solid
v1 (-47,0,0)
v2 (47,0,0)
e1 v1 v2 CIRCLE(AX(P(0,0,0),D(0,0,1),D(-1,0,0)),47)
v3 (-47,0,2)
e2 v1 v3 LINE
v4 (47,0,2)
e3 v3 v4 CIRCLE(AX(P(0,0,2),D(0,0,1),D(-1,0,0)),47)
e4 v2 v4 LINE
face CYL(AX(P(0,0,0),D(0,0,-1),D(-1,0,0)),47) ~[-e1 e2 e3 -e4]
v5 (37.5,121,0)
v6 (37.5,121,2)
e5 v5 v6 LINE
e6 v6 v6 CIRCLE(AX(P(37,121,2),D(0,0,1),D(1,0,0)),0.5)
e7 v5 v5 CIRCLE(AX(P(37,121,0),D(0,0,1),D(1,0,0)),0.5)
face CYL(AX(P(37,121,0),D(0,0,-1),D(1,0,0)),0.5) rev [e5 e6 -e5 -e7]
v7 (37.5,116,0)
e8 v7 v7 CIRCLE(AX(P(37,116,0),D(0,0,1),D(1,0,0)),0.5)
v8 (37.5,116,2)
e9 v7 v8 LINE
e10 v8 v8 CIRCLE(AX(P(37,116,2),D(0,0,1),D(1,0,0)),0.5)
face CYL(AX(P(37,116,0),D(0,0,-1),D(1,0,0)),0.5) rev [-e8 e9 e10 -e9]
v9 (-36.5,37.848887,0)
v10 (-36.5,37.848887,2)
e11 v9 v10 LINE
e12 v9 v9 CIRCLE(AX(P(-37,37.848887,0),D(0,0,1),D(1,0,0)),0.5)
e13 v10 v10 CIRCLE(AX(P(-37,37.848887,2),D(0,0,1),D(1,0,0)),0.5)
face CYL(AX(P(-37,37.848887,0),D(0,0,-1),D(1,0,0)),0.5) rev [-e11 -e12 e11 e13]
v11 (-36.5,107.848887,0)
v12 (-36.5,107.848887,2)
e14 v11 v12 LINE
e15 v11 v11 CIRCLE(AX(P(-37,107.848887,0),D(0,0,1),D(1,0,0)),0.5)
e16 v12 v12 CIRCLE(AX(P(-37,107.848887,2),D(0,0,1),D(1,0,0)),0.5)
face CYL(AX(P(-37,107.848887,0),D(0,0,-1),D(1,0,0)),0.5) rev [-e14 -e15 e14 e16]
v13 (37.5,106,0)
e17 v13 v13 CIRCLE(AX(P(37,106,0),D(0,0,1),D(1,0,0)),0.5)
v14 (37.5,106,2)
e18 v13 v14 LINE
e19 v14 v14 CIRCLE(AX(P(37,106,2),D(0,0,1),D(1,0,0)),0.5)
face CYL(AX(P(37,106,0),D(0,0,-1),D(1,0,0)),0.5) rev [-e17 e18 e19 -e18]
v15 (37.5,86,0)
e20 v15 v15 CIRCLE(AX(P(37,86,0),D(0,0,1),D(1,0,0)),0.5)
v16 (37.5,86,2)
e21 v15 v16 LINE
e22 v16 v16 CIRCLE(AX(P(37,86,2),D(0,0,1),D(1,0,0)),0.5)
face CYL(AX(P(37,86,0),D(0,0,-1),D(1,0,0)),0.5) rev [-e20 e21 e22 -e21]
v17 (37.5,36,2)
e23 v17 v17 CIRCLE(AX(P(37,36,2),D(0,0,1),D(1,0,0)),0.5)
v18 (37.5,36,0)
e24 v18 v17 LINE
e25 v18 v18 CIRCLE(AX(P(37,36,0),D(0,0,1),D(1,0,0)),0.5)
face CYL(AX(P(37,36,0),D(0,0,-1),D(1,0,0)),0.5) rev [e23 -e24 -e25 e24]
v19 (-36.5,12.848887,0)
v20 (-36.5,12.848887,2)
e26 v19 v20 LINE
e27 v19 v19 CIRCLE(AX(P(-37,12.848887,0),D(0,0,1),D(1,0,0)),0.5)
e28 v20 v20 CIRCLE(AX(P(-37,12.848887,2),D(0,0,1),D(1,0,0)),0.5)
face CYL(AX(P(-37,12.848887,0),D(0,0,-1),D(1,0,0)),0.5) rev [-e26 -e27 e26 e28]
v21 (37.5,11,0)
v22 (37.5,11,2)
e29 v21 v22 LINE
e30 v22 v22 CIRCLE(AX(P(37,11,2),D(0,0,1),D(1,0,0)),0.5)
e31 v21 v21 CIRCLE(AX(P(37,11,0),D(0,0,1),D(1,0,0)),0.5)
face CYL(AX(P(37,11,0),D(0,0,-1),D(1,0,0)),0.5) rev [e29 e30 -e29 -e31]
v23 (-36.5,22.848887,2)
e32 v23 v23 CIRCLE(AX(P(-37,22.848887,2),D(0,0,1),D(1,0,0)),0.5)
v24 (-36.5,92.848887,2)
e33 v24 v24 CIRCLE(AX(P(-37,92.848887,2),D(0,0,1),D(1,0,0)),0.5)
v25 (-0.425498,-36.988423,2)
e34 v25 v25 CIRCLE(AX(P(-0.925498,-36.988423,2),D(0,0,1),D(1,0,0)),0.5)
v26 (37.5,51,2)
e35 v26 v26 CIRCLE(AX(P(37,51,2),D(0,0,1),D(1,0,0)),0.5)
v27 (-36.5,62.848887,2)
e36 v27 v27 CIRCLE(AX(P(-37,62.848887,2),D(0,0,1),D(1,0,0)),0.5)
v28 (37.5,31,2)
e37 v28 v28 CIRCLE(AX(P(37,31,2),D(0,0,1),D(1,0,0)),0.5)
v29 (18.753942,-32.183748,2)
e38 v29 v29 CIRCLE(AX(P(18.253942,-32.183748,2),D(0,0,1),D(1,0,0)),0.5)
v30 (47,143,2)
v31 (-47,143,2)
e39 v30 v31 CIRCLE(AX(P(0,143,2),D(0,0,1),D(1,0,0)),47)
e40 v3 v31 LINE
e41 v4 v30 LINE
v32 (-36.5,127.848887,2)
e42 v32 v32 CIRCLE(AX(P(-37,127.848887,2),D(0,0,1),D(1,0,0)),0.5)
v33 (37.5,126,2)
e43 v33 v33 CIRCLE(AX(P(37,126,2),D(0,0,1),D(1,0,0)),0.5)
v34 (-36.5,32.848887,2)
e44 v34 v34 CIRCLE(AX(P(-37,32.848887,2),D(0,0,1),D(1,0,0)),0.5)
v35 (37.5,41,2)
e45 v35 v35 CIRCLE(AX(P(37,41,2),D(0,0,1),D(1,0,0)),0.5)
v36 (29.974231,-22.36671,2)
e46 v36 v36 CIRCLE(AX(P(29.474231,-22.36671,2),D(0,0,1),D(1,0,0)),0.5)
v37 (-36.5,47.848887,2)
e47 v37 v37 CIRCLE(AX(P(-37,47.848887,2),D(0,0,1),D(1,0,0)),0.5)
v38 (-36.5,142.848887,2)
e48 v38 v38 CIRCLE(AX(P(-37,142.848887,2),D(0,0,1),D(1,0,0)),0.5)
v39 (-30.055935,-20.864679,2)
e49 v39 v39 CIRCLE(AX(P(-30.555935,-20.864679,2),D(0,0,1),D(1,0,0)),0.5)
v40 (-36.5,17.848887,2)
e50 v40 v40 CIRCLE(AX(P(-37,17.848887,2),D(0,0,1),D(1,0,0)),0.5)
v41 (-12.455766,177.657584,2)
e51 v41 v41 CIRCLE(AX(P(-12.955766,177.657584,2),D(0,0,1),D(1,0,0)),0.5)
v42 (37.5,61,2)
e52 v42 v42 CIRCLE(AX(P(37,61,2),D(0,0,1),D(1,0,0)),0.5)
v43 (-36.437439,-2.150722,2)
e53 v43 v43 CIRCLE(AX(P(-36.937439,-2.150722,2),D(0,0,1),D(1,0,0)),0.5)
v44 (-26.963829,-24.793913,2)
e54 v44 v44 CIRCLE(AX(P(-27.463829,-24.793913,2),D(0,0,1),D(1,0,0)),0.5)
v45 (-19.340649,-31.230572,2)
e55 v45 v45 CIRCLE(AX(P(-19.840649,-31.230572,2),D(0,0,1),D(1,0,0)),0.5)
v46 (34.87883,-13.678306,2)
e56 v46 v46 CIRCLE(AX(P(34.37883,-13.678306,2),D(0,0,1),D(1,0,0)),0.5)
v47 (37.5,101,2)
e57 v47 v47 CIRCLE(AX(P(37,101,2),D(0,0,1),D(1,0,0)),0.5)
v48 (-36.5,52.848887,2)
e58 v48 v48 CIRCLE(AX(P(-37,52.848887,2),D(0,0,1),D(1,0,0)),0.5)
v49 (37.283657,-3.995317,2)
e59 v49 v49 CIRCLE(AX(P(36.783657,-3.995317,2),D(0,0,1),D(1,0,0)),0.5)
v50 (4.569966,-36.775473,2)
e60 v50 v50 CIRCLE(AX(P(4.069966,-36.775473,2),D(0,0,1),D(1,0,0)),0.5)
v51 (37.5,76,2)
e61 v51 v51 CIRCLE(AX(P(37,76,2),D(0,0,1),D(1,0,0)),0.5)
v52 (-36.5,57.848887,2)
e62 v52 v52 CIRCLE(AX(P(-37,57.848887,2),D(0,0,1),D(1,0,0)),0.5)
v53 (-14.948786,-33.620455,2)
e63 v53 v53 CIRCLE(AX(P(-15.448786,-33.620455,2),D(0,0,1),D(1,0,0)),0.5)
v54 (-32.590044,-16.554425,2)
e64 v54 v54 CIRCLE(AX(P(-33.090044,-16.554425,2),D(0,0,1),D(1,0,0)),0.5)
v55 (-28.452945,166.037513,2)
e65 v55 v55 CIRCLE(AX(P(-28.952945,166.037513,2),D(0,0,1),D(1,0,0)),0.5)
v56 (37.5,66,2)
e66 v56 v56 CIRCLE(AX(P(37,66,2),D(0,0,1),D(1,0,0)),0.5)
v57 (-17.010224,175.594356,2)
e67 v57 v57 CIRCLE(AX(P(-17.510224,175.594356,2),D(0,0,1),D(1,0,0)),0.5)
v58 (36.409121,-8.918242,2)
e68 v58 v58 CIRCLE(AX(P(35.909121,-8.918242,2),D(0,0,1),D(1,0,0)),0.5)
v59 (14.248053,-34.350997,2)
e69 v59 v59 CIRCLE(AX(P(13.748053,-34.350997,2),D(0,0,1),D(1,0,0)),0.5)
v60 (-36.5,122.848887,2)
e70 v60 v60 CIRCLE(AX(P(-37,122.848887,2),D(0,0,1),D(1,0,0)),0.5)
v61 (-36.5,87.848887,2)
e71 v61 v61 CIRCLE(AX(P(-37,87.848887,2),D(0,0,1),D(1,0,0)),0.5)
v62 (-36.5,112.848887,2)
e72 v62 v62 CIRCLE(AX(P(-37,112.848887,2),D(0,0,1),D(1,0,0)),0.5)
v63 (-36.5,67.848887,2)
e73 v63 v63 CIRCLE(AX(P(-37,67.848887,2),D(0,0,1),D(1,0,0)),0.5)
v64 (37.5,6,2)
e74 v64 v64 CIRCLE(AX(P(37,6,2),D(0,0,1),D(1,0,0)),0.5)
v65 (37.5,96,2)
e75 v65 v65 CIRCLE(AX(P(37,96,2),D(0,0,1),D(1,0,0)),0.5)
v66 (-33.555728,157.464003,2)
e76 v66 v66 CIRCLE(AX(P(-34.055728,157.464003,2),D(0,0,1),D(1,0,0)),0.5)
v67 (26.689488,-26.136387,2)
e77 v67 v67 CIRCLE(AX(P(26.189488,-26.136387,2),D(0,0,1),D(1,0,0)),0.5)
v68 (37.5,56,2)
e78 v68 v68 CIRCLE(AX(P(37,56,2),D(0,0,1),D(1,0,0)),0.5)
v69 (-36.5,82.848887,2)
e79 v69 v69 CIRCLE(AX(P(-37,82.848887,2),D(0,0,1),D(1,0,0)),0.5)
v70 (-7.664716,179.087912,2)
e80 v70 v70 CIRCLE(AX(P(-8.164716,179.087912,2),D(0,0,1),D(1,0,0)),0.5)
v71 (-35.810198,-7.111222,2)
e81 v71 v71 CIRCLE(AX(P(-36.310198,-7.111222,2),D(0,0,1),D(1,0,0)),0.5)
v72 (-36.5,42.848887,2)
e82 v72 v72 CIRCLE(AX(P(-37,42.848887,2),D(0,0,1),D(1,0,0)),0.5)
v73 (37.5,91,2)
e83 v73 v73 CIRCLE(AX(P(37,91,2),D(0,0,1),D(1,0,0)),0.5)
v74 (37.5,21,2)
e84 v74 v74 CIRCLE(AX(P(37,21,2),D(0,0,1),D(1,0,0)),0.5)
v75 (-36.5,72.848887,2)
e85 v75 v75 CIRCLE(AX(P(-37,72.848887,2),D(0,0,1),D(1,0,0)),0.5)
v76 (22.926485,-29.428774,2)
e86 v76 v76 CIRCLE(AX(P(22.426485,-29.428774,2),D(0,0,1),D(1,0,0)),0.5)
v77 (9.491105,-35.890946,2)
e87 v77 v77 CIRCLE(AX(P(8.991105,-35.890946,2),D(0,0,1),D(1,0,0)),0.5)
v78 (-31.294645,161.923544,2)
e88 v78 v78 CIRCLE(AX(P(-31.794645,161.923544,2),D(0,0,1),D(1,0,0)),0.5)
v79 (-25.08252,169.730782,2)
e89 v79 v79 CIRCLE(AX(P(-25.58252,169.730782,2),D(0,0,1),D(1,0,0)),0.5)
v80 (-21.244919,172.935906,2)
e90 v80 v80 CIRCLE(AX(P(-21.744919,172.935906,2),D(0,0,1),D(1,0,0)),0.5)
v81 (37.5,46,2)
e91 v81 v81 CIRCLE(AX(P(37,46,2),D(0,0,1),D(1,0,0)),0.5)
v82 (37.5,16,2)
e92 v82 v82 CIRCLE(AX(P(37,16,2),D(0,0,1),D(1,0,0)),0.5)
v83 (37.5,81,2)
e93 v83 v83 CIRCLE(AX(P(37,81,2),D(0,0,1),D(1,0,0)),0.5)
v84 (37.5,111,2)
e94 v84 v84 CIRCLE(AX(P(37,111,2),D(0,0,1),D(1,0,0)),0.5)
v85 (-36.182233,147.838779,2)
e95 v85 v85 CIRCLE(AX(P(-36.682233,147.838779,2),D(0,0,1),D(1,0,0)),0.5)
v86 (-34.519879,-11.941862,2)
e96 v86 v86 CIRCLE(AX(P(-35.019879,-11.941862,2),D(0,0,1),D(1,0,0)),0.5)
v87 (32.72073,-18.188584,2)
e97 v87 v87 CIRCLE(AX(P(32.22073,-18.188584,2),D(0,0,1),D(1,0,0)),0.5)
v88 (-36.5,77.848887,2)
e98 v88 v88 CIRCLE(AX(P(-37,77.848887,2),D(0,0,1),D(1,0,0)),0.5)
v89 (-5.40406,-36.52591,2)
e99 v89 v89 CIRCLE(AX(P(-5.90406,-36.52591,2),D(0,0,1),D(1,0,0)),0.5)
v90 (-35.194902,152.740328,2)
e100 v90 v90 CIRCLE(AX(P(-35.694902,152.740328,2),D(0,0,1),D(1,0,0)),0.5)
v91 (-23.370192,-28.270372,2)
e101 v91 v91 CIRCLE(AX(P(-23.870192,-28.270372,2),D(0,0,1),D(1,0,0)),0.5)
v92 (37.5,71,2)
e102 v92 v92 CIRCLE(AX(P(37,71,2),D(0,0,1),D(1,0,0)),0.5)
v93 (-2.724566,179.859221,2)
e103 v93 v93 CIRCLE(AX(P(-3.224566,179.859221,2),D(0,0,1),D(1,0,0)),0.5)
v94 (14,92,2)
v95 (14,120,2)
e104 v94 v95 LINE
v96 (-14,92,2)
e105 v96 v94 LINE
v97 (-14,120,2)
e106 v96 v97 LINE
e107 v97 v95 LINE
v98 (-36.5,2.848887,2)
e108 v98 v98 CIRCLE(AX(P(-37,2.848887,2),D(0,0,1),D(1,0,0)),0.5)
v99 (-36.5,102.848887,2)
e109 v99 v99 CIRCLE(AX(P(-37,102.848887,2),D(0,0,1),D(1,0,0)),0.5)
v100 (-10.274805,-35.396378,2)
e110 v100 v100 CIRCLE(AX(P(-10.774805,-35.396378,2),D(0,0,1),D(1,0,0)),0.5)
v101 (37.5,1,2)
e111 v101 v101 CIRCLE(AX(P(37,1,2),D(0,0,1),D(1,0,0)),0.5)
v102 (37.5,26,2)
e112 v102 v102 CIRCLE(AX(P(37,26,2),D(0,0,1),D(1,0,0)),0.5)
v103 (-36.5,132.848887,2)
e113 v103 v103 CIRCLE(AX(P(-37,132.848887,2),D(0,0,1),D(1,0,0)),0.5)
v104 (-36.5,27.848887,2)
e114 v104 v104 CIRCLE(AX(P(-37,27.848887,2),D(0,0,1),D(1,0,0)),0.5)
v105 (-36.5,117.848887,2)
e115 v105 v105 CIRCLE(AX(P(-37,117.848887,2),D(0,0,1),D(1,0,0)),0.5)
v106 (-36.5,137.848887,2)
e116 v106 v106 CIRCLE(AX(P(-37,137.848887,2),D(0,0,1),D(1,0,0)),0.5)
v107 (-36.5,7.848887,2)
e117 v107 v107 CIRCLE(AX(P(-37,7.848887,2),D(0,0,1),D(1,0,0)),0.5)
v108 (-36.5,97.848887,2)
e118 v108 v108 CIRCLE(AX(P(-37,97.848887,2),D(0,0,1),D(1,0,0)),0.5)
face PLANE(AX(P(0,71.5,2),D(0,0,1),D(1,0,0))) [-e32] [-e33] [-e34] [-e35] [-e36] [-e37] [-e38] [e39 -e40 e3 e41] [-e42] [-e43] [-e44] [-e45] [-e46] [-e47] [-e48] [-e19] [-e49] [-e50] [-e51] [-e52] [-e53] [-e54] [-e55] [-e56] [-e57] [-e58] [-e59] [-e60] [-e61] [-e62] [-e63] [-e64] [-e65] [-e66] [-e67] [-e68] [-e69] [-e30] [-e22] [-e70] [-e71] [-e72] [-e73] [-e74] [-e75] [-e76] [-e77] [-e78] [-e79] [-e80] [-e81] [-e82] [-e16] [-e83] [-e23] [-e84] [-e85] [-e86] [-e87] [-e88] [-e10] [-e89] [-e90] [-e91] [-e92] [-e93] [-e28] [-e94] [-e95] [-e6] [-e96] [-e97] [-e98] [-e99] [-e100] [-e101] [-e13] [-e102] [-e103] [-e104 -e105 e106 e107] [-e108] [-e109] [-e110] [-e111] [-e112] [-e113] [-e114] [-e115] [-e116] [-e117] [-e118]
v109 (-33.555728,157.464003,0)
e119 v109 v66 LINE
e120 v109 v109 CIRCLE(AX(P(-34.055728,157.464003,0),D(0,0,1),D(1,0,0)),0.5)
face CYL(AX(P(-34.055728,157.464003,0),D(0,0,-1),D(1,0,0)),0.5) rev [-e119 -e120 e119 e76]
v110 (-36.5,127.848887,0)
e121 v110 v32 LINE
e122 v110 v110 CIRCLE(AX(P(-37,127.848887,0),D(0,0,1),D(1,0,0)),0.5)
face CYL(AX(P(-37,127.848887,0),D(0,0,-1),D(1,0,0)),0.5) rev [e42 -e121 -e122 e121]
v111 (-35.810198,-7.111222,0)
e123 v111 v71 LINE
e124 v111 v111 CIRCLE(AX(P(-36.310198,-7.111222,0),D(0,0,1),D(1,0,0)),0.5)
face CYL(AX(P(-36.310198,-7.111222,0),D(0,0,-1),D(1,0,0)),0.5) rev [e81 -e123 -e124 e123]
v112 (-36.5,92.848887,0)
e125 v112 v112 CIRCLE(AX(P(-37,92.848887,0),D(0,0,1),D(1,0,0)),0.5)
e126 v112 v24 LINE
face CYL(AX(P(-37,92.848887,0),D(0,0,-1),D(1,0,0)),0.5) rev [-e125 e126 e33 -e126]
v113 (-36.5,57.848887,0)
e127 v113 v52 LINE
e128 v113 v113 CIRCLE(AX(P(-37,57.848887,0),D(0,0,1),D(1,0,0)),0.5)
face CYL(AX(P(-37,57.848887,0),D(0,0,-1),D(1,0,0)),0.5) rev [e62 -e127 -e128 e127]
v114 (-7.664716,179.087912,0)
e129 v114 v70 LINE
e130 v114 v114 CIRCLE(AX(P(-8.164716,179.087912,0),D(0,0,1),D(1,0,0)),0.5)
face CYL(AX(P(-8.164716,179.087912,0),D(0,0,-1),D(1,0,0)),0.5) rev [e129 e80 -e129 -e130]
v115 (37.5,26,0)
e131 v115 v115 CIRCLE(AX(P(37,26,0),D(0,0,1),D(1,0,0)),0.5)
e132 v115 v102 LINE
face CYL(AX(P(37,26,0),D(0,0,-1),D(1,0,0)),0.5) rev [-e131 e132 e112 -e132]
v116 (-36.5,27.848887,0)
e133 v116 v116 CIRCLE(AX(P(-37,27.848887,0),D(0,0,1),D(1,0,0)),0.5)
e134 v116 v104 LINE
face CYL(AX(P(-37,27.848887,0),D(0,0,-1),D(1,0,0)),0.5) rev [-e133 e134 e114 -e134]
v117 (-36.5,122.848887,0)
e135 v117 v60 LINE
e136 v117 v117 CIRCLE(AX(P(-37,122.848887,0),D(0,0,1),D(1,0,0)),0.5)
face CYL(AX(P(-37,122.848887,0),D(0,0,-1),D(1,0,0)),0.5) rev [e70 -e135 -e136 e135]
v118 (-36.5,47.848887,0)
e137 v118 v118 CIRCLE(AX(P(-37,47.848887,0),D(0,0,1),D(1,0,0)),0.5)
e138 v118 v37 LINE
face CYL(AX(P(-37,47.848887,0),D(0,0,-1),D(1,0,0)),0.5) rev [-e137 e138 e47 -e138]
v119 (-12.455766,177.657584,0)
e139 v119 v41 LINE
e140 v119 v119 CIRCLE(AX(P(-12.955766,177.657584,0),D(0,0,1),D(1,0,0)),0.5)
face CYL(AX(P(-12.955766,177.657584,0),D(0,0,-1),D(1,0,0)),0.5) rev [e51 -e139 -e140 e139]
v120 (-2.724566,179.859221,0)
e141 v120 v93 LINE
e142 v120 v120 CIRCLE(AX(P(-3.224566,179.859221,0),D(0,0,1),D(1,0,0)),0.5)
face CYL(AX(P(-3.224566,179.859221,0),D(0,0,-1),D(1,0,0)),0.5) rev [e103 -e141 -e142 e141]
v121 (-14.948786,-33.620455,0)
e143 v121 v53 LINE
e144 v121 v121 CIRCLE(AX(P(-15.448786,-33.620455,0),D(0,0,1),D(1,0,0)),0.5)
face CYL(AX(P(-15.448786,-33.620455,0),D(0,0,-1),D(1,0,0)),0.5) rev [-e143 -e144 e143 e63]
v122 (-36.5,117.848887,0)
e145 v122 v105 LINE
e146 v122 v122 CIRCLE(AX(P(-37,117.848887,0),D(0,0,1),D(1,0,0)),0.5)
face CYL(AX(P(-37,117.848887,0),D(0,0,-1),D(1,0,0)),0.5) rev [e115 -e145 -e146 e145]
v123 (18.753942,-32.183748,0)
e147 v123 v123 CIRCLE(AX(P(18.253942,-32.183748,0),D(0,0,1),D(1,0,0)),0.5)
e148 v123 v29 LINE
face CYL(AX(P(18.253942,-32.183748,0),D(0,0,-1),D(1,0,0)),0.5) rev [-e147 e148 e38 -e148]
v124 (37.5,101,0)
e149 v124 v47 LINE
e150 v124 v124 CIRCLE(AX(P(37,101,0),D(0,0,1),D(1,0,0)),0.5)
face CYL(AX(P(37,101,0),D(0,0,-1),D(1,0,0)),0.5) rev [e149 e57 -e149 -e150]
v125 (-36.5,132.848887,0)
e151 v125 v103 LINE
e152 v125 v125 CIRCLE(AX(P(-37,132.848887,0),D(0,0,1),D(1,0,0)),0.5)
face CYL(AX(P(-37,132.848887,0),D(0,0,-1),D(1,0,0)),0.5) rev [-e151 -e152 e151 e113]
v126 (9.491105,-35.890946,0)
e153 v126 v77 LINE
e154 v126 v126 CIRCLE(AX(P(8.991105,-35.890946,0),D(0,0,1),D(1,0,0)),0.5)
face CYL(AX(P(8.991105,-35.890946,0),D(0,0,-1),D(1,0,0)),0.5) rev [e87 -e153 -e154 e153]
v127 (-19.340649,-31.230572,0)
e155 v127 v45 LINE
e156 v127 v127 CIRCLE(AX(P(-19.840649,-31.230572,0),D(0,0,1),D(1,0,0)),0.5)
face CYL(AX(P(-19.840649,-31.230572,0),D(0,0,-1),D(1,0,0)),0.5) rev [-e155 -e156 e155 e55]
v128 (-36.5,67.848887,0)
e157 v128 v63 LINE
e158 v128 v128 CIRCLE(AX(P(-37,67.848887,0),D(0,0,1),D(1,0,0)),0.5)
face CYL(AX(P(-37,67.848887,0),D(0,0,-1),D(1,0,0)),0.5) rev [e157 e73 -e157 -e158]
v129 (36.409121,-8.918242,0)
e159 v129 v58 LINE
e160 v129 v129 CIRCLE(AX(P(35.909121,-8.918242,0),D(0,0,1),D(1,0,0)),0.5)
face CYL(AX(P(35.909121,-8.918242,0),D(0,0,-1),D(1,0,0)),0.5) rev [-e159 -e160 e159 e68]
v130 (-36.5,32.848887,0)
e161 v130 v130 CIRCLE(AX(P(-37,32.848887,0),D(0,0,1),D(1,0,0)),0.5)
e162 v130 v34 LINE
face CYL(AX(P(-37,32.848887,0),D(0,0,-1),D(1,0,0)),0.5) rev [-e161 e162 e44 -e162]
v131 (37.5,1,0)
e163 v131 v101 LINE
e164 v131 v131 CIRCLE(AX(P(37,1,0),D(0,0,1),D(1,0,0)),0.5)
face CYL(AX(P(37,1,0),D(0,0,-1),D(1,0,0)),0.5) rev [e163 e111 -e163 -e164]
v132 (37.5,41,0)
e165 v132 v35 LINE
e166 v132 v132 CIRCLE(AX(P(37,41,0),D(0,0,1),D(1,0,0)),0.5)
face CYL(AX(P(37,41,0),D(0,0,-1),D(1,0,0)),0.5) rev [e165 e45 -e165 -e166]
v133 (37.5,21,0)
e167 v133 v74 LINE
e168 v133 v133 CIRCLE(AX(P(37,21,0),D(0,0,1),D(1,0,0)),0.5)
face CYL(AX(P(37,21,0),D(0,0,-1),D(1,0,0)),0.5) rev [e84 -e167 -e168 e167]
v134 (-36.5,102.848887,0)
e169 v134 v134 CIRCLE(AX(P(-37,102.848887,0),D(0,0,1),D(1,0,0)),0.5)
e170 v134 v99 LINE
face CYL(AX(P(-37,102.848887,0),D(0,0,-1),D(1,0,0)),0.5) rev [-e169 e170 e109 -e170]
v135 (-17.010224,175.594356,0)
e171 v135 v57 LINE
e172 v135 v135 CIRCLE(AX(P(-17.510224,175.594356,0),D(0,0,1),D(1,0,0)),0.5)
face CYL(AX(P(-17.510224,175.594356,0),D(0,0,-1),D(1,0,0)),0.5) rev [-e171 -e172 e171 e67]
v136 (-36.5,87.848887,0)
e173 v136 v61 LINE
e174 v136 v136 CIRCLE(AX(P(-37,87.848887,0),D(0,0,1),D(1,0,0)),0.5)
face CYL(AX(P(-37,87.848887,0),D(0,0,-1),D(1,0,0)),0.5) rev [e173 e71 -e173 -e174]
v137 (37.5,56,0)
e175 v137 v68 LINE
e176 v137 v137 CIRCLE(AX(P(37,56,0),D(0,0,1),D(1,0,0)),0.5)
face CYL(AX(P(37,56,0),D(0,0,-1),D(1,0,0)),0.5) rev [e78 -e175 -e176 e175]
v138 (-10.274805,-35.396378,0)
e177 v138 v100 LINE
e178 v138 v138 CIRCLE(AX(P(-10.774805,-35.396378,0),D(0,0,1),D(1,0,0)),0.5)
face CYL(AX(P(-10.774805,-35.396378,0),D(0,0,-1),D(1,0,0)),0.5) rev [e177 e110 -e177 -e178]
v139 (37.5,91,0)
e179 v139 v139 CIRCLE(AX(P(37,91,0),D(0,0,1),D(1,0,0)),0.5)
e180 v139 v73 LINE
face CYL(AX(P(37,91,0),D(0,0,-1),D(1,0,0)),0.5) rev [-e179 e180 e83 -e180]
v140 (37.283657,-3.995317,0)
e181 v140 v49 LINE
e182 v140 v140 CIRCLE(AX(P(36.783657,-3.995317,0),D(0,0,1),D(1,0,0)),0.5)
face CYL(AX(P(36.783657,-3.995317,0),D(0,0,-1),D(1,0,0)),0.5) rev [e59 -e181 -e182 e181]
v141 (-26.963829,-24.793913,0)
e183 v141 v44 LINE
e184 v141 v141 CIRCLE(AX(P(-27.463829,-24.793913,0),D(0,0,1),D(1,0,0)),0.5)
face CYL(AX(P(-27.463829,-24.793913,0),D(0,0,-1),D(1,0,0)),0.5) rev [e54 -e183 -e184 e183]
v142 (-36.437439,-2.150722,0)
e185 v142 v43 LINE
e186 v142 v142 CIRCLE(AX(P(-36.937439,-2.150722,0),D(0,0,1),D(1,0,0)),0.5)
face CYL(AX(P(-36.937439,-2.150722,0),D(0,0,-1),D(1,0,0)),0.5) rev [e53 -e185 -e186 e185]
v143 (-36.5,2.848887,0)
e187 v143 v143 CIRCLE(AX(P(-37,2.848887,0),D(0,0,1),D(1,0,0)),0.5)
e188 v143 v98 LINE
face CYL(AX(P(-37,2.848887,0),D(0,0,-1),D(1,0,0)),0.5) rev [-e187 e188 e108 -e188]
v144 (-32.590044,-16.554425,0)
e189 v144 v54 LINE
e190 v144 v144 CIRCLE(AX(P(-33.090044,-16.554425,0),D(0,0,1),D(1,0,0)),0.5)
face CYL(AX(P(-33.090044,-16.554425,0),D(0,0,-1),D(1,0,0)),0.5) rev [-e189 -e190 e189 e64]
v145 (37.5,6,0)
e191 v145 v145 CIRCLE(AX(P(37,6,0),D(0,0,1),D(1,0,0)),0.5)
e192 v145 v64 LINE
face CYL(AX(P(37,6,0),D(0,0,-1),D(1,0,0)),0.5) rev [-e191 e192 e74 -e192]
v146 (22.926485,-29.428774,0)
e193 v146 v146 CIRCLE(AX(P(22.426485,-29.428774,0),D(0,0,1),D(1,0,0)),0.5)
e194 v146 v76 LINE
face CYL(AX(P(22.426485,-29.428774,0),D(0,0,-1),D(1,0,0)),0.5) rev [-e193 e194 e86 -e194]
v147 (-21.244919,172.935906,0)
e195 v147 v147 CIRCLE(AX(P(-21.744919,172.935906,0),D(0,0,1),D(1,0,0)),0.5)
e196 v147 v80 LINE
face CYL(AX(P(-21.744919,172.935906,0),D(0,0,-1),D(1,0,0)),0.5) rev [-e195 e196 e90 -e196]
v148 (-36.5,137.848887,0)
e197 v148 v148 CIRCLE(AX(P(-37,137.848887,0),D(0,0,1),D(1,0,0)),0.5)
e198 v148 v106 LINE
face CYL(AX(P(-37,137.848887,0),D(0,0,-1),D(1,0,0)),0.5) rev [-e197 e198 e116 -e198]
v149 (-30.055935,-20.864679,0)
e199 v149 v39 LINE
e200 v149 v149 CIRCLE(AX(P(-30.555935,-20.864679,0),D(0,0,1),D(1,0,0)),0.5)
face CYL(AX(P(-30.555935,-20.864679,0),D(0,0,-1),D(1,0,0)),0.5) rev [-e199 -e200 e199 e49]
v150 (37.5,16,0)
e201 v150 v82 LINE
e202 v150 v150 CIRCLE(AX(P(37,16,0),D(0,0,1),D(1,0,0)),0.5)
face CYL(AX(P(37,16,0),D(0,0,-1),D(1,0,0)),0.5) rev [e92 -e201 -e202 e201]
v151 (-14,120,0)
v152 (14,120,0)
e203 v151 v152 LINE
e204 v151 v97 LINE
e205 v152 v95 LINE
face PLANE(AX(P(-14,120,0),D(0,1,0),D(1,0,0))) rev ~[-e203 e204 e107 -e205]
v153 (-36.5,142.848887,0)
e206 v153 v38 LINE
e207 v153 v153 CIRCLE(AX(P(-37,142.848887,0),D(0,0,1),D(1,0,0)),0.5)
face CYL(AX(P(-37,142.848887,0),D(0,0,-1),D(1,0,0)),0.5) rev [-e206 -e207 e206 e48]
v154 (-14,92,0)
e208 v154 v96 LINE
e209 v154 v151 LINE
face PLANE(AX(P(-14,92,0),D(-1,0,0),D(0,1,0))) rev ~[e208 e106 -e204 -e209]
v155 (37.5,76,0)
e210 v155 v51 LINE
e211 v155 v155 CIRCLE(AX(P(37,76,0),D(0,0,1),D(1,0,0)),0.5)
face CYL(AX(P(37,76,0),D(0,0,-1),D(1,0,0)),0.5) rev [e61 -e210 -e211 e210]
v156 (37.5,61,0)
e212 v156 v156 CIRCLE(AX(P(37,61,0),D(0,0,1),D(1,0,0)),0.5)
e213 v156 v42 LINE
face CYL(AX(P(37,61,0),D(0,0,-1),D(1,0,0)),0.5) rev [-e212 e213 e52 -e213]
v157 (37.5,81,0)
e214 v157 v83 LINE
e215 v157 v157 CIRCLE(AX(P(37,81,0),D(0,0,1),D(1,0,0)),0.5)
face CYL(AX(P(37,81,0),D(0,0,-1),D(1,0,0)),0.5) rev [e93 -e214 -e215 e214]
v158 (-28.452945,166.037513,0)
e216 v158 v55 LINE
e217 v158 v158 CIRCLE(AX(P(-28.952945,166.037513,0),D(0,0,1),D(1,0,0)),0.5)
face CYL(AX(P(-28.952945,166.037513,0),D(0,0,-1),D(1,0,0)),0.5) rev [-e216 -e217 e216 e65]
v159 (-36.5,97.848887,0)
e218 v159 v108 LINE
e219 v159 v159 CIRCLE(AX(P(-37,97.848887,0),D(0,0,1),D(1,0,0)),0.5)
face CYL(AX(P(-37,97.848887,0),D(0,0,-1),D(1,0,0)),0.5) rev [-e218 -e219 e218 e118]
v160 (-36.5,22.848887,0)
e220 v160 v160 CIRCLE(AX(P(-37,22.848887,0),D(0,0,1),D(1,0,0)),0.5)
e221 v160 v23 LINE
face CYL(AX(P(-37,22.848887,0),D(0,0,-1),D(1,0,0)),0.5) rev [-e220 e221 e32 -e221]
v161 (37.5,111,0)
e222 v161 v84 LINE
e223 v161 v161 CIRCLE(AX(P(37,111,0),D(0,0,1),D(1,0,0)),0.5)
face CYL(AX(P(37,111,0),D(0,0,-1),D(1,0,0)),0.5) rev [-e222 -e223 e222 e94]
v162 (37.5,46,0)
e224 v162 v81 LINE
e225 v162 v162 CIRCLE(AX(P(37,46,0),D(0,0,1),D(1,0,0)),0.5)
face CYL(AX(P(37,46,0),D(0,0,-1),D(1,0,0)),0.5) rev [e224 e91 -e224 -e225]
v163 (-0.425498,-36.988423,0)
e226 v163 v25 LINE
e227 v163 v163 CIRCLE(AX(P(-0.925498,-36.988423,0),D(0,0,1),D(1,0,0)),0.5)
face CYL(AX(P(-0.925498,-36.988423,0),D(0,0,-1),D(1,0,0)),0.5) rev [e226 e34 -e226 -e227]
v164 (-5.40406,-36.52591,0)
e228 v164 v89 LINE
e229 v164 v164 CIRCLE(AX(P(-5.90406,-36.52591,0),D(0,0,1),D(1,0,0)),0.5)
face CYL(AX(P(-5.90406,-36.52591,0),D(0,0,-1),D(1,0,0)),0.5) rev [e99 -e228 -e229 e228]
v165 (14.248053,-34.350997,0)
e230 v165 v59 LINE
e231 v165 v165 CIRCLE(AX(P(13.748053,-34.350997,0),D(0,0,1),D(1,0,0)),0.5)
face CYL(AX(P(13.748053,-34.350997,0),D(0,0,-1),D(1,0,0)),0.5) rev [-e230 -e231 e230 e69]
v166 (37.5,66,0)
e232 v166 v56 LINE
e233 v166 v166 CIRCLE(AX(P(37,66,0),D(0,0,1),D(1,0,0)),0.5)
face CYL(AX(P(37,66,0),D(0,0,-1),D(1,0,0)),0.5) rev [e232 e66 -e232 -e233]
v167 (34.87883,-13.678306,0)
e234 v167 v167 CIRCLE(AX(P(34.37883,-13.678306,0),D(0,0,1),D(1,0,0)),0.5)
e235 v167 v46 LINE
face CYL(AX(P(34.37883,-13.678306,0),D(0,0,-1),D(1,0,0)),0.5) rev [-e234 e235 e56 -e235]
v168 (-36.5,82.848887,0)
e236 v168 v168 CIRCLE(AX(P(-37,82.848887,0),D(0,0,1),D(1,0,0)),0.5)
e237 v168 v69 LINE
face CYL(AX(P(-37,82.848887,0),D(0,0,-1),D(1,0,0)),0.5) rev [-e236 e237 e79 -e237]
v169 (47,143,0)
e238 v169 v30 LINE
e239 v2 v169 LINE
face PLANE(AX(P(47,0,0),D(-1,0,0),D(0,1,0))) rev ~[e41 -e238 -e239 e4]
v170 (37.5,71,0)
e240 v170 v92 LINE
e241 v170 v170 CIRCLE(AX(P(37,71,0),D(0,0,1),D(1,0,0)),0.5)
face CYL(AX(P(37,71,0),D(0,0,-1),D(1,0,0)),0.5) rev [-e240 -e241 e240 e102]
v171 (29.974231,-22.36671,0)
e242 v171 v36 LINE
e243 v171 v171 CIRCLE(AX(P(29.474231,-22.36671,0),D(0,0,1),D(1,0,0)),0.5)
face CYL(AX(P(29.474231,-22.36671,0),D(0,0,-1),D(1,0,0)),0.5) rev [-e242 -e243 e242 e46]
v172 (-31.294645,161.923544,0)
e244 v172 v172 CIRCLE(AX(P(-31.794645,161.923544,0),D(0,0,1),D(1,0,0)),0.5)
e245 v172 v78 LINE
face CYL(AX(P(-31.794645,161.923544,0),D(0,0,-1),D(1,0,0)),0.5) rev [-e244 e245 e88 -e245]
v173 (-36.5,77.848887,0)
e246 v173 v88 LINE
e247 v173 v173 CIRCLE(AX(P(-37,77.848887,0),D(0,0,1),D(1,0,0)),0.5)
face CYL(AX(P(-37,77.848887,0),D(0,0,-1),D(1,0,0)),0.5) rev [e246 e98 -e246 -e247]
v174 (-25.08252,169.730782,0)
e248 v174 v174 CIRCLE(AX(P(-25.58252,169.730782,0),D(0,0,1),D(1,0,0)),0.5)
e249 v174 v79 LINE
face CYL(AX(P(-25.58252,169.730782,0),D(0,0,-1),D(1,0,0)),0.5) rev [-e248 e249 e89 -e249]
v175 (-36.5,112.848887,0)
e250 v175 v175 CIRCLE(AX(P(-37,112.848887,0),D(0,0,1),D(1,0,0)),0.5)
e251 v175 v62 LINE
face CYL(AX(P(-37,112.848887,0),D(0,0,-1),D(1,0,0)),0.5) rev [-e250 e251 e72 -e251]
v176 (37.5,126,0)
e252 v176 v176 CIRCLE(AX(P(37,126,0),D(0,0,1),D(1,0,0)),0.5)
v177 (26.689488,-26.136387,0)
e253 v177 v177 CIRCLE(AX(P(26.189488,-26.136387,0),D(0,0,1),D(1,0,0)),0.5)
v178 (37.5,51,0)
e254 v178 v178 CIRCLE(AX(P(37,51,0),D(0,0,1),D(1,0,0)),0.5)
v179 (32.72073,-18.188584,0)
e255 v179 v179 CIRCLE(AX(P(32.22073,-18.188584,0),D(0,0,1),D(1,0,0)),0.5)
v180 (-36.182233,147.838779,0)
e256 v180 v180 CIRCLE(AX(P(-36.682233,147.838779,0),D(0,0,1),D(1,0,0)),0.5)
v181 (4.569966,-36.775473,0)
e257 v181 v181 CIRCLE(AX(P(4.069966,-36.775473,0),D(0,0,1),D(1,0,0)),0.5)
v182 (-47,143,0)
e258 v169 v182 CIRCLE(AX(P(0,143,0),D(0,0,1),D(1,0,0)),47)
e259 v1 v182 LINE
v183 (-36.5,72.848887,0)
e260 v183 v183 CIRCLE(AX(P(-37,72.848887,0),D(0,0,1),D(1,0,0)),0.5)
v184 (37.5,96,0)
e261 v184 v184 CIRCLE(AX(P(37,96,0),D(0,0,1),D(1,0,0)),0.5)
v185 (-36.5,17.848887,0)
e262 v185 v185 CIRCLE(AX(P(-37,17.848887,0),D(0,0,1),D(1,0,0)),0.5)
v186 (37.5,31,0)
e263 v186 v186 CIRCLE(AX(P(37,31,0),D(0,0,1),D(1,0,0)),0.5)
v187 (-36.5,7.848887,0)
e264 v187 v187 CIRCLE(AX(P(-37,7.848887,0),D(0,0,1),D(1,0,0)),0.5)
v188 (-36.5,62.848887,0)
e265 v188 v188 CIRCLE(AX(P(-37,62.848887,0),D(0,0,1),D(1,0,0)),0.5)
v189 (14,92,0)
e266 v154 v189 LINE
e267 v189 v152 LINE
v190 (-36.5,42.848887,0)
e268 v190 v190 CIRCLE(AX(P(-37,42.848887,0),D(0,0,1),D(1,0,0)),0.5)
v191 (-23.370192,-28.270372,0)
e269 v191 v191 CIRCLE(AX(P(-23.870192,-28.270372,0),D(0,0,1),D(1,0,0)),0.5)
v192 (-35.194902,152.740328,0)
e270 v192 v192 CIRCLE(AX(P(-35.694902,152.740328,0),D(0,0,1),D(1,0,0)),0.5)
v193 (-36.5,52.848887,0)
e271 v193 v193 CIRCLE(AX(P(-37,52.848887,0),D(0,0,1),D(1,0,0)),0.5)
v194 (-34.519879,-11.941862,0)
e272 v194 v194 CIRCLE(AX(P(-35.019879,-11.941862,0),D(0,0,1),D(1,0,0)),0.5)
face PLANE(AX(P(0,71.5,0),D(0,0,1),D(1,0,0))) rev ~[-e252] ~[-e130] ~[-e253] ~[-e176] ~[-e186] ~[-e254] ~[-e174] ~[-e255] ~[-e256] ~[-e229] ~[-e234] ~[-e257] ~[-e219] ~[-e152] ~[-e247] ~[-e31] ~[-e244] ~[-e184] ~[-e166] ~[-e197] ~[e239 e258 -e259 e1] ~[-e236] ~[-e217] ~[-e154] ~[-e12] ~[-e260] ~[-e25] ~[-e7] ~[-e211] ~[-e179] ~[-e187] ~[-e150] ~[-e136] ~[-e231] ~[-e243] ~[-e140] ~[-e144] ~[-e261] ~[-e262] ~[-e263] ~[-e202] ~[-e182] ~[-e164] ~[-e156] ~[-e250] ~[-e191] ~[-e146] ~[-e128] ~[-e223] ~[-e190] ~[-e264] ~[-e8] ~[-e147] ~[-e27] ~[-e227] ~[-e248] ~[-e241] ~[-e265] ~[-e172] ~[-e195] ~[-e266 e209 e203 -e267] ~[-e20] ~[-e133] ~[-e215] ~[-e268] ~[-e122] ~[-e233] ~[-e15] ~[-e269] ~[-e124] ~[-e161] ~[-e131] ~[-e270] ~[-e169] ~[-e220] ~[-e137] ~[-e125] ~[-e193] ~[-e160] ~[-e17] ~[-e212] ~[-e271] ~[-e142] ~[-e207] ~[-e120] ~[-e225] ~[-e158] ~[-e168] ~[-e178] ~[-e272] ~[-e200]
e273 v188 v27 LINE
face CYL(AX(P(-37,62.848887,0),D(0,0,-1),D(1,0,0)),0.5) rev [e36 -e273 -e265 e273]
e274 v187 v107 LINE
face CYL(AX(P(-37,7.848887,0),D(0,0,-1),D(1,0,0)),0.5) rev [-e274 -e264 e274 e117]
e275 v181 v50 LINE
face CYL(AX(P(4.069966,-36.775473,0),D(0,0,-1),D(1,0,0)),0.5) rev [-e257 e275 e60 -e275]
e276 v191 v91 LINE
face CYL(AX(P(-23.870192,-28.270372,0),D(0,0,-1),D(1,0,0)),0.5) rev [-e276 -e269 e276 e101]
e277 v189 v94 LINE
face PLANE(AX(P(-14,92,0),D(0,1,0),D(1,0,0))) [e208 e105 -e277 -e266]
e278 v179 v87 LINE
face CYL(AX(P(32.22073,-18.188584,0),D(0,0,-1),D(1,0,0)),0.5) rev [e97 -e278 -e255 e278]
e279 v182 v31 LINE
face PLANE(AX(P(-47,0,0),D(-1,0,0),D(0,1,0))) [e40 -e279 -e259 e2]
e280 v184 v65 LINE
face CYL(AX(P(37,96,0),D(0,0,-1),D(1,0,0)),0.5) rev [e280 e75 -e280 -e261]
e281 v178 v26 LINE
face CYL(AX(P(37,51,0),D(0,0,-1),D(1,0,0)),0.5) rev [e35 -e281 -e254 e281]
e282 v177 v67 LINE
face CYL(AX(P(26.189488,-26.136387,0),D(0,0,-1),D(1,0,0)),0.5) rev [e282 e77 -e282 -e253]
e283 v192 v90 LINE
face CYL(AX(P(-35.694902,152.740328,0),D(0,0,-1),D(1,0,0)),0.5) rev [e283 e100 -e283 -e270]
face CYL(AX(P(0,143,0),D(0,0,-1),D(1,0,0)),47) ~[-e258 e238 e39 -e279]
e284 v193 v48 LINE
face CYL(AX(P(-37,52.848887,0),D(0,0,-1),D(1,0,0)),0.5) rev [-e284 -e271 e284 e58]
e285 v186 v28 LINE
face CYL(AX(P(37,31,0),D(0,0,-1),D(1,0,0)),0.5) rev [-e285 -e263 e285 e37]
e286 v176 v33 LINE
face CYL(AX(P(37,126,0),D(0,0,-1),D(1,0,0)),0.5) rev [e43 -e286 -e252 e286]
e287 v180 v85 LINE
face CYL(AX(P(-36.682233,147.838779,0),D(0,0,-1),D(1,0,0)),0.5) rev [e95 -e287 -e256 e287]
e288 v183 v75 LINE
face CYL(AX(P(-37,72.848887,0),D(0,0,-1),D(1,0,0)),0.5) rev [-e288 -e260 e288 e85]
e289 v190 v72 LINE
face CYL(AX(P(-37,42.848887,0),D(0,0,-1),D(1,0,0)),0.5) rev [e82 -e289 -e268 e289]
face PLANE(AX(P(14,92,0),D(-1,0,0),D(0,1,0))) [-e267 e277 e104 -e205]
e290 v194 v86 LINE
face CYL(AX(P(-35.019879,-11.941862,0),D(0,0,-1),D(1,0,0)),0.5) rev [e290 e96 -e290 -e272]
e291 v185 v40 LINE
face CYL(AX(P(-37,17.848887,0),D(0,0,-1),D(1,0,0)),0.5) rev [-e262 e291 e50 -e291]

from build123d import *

# Parameters (mm, degrees)
SKETCH_R  = 0.5
SKETCH_W  = 28
SKETCH_H  = 28
PAD_DEPTH = 2


with BuildPart() as part:
    # Sketch → Pad (new body)
    with BuildSketch(Plane.XY):
        with BuildLine():
            ThreePointArc((-47, 0), (0, -47), (47, 0))
            Line((47, 0), (47, 143))
            ThreePointArc((47, 143), (0, 190), (-47, 143))
            Line((-47, 0), (-47, 143))
        make_face()
        with Locations((37, 126)):
            Circle(SKETCH_R, mode=Mode.SUBTRACT)
        with Locations((37, 121)):
            Circle(SKETCH_R, mode=Mode.SUBTRACT)
        with Locations((37, 111)):
            Circle(SKETCH_R, mode=Mode.SUBTRACT)
        with Locations((37, 116)):
            Circle(SKETCH_R, mode=Mode.SUBTRACT)
        with Locations((37, 101)):
            Circle(SKETCH_R, mode=Mode.SUBTRACT)
        with Locations((37, 106)):
            Circle(SKETCH_R, mode=Mode.SUBTRACT)
        with Locations((37, 96)):
            Circle(SKETCH_R, mode=Mode.SUBTRACT)
        with Locations((37, 91)):
            Circle(SKETCH_R, mode=Mode.SUBTRACT)
        with Locations((37, 86)):
            Circle(SKETCH_R, mode=Mode.SUBTRACT)
        with Locations((37, 81)):
            Circle(SKETCH_R, mode=Mode.SUBTRACT)
        with Locations((37, 76)):
            Circle(SKETCH_R, mode=Mode.SUBTRACT)
        with Locations((37, 71)):
            Circle(SKETCH_R, mode=Mode.SUBTRACT)
        with Locations((37, 66)):
            Circle(SKETCH_R, mode=Mode.SUBTRACT)
        with Locations((37, 61)):
            Circle(SKETCH_R, mode=Mode.SUBTRACT)
        with Locations((37, 56)):
            Circle(SKETCH_R, mode=Mode.SUBTRACT)
        with Locations((37, 51)):
            Circle(SKETCH_R, mode=Mode.SUBTRACT)
        with Locations((37, 46)):
            Circle(SKETCH_R, mode=Mode.SUBTRACT)
        with Locations((37, 41)):
            Circle(SKETCH_R, mode=Mode.SUBTRACT)
        with Locations((37, 36)):
            Circle(SKETCH_R, mode=Mode.SUBTRACT)
        with Locations((37, 31)):
            Circle(SKETCH_R, mode=Mode.SUBTRACT)
        with Locations((37, 26)):
            Circle(SKETCH_R, mode=Mode.SUBTRACT)
        with Locations((37, 21)):
            Circle(SKETCH_R, mode=Mode.SUBTRACT)
        with Locations((37, 16)):
            Circle(SKETCH_R, mode=Mode.SUBTRACT)
        with Locations((37, 11)):
            Circle(SKETCH_R, mode=Mode.SUBTRACT)
        with Locations((37, 6)):
            Circle(SKETCH_R, mode=Mode.SUBTRACT)
        with Locations((37, 1)):
            Circle(SKETCH_R, mode=Mode.SUBTRACT)
        with Locations((36.783657, -3.995317)):
            Circle(SKETCH_R, mode=Mode.SUBTRACT)
        with Locations((35.909121, -8.918242)):
            Circle(SKETCH_R, mode=Mode.SUBTRACT)
        with Locations((34.37883, -13.678306)):
            Circle(SKETCH_R, mode=Mode.SUBTRACT)
        with Locations((32.22073, -18.188584)):
            Circle(SKETCH_R, mode=Mode.SUBTRACT)
        with Locations((29.474231, -22.36671)):
            Circle(SKETCH_R, mode=Mode.SUBTRACT)
        with Locations((26.189488, -26.136387)):
            Circle(SKETCH_R, mode=Mode.SUBTRACT)
        with Locations((22.426485, -29.428774)):
            Circle(SKETCH_R, mode=Mode.SUBTRACT)
        with Locations((18.253942, -32.183748)):
            Circle(SKETCH_R, mode=Mode.SUBTRACT)
        with Locations((13.748053, -34.350997)):
            Circle(SKETCH_R, mode=Mode.SUBTRACT)
        with Locations((8.991105, -35.890946)):
            Circle(SKETCH_R, mode=Mode.SUBTRACT)
        with Locations((4.069966, -36.775473)):
            Circle(SKETCH_R, mode=Mode.SUBTRACT)
        with Locations((-0.925498, -36.988423)):
            Circle(SKETCH_R, mode=Mode.SUBTRACT)
        with Locations((-5.90406, -36.52591)):
            Circle(SKETCH_R, mode=Mode.SUBTRACT)
        with Locations((-10.774805, -35.396378)):
            Circle(SKETCH_R, mode=Mode.SUBTRACT)
        with Locations((-15.448786, -33.620455)):
            Circle(SKETCH_R, mode=Mode.SUBTRACT)
        with Locations((-19.840649, -31.230572)):
            Circle(SKETCH_R, mode=Mode.SUBTRACT)
        with Locations((-23.870192, -28.270372)):
            Circle(SKETCH_R, mode=Mode.SUBTRACT)
        with Locations((-27.463829, -24.793913)):
            Circle(SKETCH_R, mode=Mode.SUBTRACT)
        with Locations((-30.555935, -20.864679)):
            Circle(SKETCH_R, mode=Mode.SUBTRACT)
        with Locations((-33.090044, -16.554425)):
            Circle(SKETCH_R, mode=Mode.SUBTRACT)
        with Locations((-35.019879, -11.941862)):
            Circle(SKETCH_R, mode=Mode.SUBTRACT)
        with Locations((-36.310198, -7.111222)):
            Circle(SKETCH_R, mode=Mode.SUBTRACT)
        with Locations((-36.937439, -2.150722)):
            Circle(SKETCH_R, mode=Mode.SUBTRACT)
        with Locations((-37, 2.848887)):
            Circle(SKETCH_R, mode=Mode.SUBTRACT)
        with Locations((-37, 7.848887)):
            Circle(SKETCH_R, mode=Mode.SUBTRACT)
        with Locations((-37, 12.848887)):
            Circle(SKETCH_R, mode=Mode.SUBTRACT)
        with Locations((-37, 17.848887)):
            Circle(SKETCH_R, mode=Mode.SUBTRACT)
        with Locations((-37, 22.848887)):
            Circle(SKETCH_R, mode=Mode.SUBTRACT)
        with Locations((-37, 27.848887)):
            Circle(SKETCH_R, mode=Mode.SUBTRACT)
        with Locations((-37, 32.848887)):
            Circle(SKETCH_R, mode=Mode.SUBTRACT)
        with Locations((-37, 37.848887)):
            Circle(SKETCH_R, mode=Mode.SUBTRACT)
        with Locations((-37, 42.848887)):
            Circle(SKETCH_R, mode=Mode.SUBTRACT)
        with Locations((-37, 47.848887)):
            Circle(SKETCH_R, mode=Mode.SUBTRACT)
        with Locations((-37, 52.848887)):
            Circle(SKETCH_R, mode=Mode.SUBTRACT)
        with Locations((-37, 57.848887)):
            Circle(SKETCH_R, mode=Mode.SUBTRACT)
        with Locations((-37, 62.848887)):
            Circle(SKETCH_R, mode=Mode.SUBTRACT)
        with Locations((-37, 67.848887)):
            Circle(SKETCH_R, mode=Mode.SUBTRACT)
        with Locations((-37, 72.848887)):
            Circle(SKETCH_R, mode=Mode.SUBTRACT)
        with Locations((-37, 77.848887)):
            Circle(SKETCH_R, mode=Mode.SUBTRACT)
        with Locations((-37, 82.848887)):
            Circle(SKETCH_R, mode=Mode.SUBTRACT)
        with Locations((-37, 87.848887)):
            Circle(SKETCH_R, mode=Mode.SUBTRACT)
        with Locations((-37, 92.848887)):
            Circle(SKETCH_R, mode=Mode.SUBTRACT)
        with Locations((-37, 97.848887)):
            Circle(SKETCH_R, mode=Mode.SUBTRACT)
        with Locations((-37, 102.848887)):
            Circle(SKETCH_R, mode=Mode.SUBTRACT)
        with Locations((-37, 107.848887)):
            Circle(SKETCH_R, mode=Mode.SUBTRACT)
        with Locations((-37, 112.848887)):
            Circle(SKETCH_R, mode=Mode.SUBTRACT)
        with Locations((-37, 117.848887)):
            Circle(SKETCH_R, mode=Mode.SUBTRACT)
        with Locations((-37, 122.848887)):
            Circle(SKETCH_R, mode=Mode.SUBTRACT)
        with Locations((-37, 127.848887)):
            Circle(SKETCH_R, mode=Mode.SUBTRACT)
        with Locations((-37, 132.848887)):
            Circle(SKETCH_R, mode=Mode.SUBTRACT)
        with Locations((-37, 137.848887)):
            Circle(SKETCH_R, mode=Mode.SUBTRACT)
        with Locations((-37, 142.848887)):
            Circle(SKETCH_R, mode=Mode.SUBTRACT)
        with Locations((-36.682233, 147.838779)):
            Circle(SKETCH_R, mode=Mode.SUBTRACT)
        with Locations((-35.694902, 152.740328)):
            Circle(SKETCH_R, mode=Mode.SUBTRACT)
        with Locations((-34.055728, 157.464003)):
            Circle(SKETCH_R, mode=Mode.SUBTRACT)
        with Locations((-31.794645, 161.923544)):
            Circle(SKETCH_R, mode=Mode.SUBTRACT)
        with Locations((-28.952945, 166.037513)):
            Circle(SKETCH_R, mode=Mode.SUBTRACT)
        with Locations((-25.58252, 169.730782)):
            Circle(SKETCH_R, mode=Mode.SUBTRACT)
        with Locations((-21.744919, 172.935906)):
            Circle(SKETCH_R, mode=Mode.SUBTRACT)
        with Locations((-17.510224, 175.594356)):
            Circle(SKETCH_R, mode=Mode.SUBTRACT)
        with Locations((-12.955766, 177.657584)):
            Circle(SKETCH_R, mode=Mode.SUBTRACT)
        with Locations((-8.164716, 179.087912)):
            Circle(SKETCH_R, mode=Mode.SUBTRACT)
        with Locations((-3.224566, 179.859221)):
            Circle(SKETCH_R, mode=Mode.SUBTRACT)
        with Locations((0, 106)):
            Rectangle(SKETCH_W, SKETCH_H, mode=Mode.SUBTRACT)
    extrude(amount=PAD_DEPTH)


solid = part.part
